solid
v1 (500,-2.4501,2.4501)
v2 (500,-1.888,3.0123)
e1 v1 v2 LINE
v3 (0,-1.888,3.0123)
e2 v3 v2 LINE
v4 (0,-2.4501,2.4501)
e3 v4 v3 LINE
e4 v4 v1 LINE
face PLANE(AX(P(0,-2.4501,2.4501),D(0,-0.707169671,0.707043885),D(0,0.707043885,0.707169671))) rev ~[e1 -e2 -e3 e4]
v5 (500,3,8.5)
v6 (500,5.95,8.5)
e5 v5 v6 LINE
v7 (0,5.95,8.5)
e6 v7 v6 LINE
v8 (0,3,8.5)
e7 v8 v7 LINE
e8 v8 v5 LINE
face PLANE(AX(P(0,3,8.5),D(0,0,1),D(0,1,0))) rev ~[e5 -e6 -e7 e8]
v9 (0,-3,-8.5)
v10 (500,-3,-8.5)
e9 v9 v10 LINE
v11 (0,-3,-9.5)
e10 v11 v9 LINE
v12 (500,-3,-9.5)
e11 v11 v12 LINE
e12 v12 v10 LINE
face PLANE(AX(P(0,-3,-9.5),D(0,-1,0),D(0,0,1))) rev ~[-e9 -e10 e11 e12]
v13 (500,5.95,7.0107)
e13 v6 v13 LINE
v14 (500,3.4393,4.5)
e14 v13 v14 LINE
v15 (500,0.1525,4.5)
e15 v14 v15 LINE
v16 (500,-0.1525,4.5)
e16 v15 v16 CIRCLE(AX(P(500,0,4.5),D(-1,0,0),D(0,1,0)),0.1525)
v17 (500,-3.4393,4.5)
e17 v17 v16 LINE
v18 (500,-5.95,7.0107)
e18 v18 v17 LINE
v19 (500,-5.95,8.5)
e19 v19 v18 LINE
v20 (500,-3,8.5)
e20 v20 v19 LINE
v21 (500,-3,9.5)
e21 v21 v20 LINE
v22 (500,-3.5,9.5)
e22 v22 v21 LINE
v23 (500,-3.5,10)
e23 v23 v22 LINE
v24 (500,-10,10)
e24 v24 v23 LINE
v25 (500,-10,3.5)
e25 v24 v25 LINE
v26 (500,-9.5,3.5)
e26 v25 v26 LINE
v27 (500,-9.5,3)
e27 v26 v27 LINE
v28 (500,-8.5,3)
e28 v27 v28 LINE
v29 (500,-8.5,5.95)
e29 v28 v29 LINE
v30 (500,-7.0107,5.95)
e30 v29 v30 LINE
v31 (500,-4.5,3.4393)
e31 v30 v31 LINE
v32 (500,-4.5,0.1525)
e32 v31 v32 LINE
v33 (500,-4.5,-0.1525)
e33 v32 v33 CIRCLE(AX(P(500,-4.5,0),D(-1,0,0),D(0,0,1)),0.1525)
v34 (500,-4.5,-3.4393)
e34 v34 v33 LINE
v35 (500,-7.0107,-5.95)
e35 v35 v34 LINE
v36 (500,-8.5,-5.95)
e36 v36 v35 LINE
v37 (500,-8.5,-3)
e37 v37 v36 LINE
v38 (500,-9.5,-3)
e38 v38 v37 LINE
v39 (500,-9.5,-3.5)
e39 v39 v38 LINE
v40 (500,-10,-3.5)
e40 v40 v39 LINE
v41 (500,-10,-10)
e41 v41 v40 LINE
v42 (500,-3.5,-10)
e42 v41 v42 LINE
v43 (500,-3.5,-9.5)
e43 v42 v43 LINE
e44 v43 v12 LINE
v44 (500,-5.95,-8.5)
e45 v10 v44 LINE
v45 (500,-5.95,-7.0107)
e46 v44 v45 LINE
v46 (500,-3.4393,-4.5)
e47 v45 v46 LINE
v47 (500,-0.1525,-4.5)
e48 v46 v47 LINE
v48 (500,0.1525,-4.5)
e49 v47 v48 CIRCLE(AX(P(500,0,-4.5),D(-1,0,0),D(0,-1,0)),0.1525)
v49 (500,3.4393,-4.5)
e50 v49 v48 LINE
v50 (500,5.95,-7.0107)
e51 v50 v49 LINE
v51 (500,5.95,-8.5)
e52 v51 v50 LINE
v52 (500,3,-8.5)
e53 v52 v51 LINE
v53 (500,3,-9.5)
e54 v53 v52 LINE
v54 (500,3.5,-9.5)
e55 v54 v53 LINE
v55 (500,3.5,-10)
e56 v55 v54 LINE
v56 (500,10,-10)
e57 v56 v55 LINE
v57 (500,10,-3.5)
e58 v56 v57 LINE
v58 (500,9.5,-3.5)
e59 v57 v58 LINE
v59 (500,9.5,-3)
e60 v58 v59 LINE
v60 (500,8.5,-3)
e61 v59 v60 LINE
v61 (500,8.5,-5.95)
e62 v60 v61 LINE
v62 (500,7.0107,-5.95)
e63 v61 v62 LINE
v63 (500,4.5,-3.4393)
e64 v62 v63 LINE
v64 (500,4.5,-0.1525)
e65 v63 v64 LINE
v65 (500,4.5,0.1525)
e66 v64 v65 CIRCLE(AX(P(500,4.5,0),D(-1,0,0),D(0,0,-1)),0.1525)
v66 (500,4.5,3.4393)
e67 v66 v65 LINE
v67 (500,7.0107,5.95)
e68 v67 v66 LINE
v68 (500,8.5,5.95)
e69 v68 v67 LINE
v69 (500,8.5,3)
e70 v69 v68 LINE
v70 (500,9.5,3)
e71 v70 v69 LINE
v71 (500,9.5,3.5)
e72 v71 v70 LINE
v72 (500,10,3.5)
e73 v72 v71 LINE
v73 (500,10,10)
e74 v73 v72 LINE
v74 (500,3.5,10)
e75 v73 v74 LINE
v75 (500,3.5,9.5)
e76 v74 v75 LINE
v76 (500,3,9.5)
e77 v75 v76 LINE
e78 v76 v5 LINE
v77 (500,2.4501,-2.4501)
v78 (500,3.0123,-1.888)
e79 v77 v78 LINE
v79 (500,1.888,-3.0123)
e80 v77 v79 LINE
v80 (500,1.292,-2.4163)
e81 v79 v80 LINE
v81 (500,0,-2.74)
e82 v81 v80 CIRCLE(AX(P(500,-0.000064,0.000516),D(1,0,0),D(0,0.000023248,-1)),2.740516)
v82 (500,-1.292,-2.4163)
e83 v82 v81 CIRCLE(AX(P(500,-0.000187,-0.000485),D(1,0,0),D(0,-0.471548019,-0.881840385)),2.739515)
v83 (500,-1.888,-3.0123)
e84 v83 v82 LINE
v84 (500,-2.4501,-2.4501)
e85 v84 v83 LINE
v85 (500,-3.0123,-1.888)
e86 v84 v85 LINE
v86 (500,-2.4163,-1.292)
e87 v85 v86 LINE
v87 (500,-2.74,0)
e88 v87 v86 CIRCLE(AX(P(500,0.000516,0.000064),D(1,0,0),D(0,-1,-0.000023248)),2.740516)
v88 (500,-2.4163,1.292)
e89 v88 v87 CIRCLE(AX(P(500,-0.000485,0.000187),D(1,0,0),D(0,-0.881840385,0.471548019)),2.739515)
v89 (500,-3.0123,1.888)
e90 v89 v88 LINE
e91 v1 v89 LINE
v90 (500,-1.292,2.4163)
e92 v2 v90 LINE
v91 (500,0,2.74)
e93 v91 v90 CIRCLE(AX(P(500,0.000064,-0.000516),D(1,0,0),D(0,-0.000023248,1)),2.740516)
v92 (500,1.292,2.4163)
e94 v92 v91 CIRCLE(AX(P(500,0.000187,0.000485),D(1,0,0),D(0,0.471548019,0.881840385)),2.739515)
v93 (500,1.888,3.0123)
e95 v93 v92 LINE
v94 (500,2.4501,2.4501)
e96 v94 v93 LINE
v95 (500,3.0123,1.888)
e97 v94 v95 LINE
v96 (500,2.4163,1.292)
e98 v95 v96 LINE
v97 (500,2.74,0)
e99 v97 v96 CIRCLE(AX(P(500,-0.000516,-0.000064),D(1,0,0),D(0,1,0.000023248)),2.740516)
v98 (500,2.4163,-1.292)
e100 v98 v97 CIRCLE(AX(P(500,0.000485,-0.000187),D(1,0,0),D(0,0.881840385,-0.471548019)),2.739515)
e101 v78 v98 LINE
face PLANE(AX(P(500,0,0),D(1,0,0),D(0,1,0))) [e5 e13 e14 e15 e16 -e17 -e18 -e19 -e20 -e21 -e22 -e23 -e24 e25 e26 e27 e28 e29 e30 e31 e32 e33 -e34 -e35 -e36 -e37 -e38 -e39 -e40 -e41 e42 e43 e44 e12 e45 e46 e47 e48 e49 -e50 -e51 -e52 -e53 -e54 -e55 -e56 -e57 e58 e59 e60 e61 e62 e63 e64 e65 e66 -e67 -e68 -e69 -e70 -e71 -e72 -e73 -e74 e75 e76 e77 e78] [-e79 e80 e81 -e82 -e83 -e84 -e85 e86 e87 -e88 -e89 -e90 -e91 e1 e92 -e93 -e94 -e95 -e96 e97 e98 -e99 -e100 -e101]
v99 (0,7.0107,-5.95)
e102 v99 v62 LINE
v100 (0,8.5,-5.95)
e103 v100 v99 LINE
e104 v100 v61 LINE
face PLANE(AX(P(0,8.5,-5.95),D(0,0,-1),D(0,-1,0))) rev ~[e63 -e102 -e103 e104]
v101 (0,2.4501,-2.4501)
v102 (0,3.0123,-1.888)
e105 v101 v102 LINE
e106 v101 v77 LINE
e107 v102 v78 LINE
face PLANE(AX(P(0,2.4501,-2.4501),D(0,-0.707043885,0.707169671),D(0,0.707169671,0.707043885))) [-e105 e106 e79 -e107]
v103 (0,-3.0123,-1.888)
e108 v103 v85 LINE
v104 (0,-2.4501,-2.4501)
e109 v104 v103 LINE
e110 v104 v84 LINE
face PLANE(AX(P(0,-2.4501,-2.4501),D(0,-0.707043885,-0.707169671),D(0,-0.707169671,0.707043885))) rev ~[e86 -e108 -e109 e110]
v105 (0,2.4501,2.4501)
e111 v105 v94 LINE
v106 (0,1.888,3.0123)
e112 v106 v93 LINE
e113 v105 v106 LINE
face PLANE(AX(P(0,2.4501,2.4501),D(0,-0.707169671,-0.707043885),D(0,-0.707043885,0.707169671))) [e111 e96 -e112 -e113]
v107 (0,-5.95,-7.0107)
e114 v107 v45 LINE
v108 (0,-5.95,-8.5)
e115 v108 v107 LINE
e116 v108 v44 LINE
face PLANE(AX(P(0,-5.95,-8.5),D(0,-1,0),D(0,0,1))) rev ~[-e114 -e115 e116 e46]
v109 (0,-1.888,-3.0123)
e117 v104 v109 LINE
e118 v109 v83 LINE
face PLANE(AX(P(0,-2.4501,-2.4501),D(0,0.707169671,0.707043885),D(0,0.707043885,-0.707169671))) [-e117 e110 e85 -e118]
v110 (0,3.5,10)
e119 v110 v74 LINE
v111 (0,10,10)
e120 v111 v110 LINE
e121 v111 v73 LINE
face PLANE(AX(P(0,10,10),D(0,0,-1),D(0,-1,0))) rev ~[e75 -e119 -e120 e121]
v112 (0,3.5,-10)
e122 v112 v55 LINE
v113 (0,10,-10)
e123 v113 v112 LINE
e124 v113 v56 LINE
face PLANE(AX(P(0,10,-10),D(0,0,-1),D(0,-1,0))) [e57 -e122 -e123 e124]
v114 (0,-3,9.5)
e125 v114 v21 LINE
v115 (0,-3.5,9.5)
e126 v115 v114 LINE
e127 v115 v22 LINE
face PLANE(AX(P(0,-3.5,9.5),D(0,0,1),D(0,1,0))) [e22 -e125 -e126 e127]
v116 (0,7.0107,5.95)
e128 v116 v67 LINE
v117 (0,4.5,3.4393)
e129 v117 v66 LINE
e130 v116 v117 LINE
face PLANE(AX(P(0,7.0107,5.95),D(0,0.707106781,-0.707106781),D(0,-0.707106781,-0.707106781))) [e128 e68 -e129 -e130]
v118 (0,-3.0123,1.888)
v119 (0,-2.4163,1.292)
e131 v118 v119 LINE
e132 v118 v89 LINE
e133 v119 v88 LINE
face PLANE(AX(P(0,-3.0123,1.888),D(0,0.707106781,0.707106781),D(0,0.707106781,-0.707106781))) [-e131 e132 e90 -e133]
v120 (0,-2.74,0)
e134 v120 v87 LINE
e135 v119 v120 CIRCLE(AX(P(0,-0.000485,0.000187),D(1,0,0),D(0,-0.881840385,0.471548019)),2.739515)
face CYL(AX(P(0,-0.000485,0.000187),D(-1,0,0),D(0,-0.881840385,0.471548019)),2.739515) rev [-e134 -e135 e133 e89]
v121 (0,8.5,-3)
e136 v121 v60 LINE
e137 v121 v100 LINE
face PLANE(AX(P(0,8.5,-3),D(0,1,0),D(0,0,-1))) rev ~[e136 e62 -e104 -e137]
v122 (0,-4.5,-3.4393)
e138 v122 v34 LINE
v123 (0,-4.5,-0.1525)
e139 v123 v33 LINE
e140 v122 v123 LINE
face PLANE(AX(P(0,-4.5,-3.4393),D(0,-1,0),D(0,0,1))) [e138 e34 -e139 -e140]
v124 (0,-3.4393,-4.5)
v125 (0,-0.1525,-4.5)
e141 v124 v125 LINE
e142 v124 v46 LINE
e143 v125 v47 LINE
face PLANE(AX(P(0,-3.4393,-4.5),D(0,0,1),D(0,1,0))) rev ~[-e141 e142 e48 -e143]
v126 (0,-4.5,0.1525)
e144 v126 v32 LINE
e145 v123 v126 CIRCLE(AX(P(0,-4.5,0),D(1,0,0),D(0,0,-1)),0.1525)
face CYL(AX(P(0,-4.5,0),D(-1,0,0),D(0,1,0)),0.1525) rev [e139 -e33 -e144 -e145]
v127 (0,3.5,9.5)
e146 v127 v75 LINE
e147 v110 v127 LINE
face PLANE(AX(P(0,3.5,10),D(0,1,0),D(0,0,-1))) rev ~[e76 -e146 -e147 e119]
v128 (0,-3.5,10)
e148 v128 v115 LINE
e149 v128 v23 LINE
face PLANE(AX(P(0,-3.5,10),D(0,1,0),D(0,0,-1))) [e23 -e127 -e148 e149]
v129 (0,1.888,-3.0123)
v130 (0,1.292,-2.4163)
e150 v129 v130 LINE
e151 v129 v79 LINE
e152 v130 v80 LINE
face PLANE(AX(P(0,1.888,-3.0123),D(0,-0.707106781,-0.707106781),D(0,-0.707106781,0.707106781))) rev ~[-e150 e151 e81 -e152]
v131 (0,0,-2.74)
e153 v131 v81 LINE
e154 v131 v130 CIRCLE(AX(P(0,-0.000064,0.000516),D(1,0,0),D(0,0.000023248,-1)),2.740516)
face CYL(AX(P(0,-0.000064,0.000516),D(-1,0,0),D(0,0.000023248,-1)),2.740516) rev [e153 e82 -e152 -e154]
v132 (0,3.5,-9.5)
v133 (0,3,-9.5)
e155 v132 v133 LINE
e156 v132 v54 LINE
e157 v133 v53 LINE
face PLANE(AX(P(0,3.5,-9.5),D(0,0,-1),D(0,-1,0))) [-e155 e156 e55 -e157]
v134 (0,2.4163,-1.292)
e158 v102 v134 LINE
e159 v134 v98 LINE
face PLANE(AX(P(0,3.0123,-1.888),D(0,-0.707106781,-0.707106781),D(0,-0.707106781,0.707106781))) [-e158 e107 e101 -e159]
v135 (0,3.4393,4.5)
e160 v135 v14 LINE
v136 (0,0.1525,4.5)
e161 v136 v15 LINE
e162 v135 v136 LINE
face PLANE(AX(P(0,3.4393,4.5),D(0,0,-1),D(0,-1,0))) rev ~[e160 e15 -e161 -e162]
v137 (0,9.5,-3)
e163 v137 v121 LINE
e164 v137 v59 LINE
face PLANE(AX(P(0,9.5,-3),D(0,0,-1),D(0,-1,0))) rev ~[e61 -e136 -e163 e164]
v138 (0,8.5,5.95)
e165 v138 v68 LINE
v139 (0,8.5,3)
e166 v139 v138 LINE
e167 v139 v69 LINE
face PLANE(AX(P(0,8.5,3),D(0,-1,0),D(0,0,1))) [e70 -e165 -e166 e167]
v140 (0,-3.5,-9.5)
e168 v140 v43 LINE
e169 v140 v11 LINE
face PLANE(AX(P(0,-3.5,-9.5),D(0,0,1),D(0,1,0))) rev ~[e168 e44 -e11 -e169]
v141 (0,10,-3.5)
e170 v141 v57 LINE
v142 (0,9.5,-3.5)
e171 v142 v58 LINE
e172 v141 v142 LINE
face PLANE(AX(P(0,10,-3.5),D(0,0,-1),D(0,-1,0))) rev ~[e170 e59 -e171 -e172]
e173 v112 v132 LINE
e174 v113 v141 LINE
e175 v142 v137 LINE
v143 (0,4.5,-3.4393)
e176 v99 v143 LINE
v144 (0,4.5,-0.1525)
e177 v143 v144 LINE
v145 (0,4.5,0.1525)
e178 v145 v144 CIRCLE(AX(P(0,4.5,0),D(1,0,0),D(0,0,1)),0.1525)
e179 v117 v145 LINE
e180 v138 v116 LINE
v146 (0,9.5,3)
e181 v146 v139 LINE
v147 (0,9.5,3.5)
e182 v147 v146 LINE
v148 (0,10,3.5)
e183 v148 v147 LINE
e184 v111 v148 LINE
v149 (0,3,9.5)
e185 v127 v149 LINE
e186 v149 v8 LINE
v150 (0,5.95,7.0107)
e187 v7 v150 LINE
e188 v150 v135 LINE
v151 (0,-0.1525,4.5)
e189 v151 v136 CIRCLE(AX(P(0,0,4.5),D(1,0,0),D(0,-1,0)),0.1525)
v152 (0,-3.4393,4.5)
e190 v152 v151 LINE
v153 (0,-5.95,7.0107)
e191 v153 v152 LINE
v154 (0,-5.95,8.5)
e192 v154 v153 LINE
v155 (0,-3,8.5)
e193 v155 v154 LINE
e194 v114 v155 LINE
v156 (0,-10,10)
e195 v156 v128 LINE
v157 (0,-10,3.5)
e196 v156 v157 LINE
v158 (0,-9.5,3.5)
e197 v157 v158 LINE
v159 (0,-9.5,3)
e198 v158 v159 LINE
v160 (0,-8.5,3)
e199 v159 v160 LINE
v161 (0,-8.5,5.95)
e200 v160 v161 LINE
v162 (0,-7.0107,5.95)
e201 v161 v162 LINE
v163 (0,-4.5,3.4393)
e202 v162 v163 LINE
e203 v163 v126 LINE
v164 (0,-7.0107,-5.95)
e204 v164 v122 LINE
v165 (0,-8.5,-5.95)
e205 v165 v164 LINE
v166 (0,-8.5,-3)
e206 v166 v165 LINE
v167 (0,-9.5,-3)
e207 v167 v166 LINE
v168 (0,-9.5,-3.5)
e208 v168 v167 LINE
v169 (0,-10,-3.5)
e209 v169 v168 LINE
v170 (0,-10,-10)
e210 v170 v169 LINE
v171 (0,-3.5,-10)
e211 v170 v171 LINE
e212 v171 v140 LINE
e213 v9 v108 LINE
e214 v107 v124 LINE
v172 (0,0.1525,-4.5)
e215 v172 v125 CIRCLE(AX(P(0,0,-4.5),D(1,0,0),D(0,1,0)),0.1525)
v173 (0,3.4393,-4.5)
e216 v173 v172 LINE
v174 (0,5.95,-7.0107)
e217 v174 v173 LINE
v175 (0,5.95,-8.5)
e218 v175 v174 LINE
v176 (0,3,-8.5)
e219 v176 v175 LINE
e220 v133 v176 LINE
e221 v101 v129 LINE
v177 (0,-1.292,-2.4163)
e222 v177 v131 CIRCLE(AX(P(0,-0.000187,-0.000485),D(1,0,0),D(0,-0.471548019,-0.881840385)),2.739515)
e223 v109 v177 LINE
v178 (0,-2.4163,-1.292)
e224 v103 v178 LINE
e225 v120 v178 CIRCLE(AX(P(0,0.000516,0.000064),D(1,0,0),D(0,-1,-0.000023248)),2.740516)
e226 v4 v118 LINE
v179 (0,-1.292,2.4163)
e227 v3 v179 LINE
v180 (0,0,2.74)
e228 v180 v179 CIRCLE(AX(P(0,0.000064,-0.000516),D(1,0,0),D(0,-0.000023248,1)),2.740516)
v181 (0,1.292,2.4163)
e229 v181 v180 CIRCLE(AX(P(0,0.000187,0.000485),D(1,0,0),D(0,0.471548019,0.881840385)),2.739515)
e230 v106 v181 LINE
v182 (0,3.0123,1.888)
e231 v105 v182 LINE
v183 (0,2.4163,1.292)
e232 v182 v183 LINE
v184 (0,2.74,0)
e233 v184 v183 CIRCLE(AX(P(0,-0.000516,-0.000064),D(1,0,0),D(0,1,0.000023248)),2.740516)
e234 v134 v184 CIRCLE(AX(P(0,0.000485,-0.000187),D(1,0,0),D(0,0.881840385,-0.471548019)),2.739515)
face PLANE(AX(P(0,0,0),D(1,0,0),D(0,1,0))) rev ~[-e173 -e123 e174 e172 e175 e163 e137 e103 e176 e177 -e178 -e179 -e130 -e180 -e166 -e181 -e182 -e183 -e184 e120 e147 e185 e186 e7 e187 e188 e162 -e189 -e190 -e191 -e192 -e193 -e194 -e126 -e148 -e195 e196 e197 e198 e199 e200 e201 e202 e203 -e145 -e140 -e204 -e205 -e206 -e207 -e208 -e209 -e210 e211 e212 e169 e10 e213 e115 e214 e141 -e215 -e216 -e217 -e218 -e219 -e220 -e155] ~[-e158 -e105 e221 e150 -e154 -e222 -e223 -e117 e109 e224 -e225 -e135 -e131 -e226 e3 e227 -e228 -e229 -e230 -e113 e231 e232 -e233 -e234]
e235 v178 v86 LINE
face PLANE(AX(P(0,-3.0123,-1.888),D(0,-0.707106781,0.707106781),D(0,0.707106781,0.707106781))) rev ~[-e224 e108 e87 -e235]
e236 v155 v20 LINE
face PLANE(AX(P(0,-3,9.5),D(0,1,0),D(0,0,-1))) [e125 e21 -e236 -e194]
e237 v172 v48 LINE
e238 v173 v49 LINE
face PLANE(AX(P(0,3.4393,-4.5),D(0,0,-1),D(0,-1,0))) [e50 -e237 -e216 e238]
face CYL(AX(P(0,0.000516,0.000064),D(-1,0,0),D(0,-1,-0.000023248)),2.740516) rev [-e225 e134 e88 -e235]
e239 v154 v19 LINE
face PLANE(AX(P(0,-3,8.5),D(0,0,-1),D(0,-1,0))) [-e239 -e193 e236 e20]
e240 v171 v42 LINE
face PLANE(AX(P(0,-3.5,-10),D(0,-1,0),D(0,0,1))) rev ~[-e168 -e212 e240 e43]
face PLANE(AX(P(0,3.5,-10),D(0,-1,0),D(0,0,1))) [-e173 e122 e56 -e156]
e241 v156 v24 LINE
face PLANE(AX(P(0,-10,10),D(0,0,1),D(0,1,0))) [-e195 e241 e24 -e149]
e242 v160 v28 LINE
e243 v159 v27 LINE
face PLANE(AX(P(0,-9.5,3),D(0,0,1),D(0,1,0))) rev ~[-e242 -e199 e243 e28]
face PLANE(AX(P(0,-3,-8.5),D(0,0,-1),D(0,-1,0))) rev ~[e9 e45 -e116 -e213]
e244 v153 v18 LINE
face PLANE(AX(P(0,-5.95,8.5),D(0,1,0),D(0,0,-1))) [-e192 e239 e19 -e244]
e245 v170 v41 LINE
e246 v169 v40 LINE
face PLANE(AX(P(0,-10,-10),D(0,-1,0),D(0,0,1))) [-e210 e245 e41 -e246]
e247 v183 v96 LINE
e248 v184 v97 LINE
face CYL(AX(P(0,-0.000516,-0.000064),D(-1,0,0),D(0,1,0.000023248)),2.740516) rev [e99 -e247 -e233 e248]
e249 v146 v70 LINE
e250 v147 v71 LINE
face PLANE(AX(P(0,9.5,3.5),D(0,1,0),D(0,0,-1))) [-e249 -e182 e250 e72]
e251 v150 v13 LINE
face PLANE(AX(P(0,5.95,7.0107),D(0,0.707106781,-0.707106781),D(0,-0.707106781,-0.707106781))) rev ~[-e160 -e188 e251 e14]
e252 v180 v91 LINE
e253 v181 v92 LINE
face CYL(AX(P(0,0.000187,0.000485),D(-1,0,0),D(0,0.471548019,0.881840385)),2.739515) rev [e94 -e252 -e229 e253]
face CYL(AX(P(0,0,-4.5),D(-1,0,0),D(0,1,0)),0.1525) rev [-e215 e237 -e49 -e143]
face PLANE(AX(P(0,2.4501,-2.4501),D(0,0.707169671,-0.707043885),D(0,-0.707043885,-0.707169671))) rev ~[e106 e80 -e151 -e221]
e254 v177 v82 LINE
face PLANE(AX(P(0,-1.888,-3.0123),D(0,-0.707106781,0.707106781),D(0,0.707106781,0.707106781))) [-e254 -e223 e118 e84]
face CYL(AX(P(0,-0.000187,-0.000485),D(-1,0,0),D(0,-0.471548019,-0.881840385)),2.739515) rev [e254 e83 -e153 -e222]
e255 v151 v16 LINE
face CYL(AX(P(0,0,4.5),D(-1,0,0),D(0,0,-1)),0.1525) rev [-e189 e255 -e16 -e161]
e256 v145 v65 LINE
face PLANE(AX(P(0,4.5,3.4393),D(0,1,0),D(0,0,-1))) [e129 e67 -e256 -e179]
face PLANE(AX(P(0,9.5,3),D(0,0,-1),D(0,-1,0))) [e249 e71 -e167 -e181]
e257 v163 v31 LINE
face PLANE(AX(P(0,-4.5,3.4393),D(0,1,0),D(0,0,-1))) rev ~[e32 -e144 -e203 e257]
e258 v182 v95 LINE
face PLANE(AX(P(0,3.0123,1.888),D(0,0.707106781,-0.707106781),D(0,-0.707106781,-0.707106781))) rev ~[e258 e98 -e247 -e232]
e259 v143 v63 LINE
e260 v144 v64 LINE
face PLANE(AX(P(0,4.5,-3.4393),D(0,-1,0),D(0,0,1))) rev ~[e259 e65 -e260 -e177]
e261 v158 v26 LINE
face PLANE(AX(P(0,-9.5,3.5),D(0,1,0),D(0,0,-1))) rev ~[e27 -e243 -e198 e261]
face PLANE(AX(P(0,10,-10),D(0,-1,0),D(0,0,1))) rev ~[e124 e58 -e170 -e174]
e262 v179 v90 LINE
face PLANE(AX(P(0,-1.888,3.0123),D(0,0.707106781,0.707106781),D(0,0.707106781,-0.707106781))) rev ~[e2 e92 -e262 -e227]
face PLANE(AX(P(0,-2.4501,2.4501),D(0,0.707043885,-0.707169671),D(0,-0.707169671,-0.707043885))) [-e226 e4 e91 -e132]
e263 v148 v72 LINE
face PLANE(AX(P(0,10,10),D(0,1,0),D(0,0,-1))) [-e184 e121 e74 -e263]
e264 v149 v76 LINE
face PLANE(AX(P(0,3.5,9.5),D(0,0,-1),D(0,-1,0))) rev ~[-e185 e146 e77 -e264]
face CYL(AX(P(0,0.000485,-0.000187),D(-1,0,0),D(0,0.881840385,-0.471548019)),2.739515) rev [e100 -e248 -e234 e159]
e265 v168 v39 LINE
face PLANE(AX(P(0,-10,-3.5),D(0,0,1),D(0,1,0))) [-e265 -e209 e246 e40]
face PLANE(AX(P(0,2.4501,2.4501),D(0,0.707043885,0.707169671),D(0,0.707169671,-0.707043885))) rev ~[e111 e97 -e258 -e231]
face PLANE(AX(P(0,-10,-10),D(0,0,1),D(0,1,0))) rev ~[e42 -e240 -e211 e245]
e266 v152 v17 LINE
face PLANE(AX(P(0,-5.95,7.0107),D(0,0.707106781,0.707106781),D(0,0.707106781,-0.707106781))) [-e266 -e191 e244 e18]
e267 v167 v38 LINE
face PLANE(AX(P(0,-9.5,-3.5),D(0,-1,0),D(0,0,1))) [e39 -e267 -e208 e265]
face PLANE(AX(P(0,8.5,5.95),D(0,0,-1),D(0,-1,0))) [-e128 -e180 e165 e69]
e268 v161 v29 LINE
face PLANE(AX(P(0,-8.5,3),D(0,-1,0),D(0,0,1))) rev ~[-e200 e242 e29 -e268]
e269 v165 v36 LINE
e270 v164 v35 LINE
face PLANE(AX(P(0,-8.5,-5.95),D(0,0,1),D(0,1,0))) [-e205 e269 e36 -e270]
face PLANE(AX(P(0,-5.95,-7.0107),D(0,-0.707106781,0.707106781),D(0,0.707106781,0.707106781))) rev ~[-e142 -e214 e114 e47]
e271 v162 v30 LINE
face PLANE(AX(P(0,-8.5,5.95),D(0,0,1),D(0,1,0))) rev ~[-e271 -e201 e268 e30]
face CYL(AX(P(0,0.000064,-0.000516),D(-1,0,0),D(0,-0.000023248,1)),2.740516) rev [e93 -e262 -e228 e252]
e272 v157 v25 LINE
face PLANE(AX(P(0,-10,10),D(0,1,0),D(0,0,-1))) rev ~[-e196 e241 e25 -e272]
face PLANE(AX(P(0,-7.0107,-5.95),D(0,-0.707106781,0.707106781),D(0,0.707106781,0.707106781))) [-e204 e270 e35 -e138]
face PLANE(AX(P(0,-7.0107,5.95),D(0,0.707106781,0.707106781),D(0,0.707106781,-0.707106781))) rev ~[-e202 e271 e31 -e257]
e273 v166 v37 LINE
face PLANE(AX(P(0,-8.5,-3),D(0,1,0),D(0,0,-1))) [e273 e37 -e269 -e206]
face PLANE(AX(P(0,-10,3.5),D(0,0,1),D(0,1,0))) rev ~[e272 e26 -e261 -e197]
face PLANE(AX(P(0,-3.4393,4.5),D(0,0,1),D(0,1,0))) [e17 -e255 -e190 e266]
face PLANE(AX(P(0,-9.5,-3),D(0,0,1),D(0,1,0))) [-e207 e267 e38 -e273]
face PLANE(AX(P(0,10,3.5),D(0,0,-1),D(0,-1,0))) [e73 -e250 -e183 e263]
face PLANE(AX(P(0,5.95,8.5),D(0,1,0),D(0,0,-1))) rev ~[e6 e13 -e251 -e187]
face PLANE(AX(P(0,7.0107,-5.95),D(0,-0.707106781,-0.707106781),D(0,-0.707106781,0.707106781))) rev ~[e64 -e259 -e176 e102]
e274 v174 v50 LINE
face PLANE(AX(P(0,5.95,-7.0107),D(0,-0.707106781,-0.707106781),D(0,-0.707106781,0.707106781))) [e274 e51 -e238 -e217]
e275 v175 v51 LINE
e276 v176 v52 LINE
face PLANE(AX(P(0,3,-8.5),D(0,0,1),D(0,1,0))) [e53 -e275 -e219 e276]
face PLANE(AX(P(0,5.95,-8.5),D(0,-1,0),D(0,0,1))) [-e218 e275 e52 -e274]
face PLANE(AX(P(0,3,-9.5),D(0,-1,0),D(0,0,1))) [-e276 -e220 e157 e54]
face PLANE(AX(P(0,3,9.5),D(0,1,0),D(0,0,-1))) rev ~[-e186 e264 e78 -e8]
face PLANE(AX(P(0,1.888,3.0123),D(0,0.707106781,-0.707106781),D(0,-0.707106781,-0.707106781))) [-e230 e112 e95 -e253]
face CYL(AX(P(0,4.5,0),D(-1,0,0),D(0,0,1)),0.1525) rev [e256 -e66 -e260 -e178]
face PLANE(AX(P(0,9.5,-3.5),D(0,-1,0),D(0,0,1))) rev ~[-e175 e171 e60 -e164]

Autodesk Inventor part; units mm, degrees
ref_plane "YZ Plane" through (0, 0, 0) normal (1, 0, 0) x (0, 1, 0)
ref_plane "XZ Plane" through (0, 0, 0) normal (0, 1, 0) x (-1, 0, 0)
ref_plane "XY Plane" through (0, 0, 0) normal (0, 0, 1) x (1, 0, 0)
sketch "Sketch1" plane through (0, 0, 0) normal (1, 0, 0) x (0, 1, 0)
  line L0 (-10, -10) -> (10, 10) construction
  line L1 (10, 10) -> (10, 3.5)
  line L2 (10, 3.5) -> (9.5, 3.5)
  line L3 (9.5, 3.5) -> (9.5, 3)
  line L4 (9.5, 3) -> (8.5, 3)
  line L5 (8.5, 3) -> (8.5, 5.95)
  line L6 (8.5, 5.95) -> (7.0107, 5.95)
  line L7 (7.0107, 5.95) -> (4.5, 3.4393)
  line L8 (4.5, 3.4393) -> (4.5, 0.1525)
  line L9 (2.4501, 2.4501) -> (3.0123, 1.888)
  line L10 (3.0123, 1.888) -> (2.4163, 1.292)
  arc A0 (2.74, 0) -> (2.4163, 1.292) centre (0, 0) ccw
  arc A1 (4.5, 0.1525) -> (4.3475, 0) centre (4.5, 0) ccw
  line L11 (10, 10) -> (2.4501, 2.4501)
  line L12 (4.3475, 0) -> (2.74, 0)
  line L13 (0, 0) -> (2.74, 0) construction
  line L14 (10, 10) -> (3.5, 10)
  line L15 (3.5, 10) -> (3.5, 9.5)
  line L16 (3.5, 9.5) -> (3, 9.5)
  line L17 (3, 9.5) -> (3, 8.5)
  line L18 (3, 8.5) -> (5.95, 8.5)
  line L19 (5.95, 8.5) -> (5.95, 7.0107)
  line L20 (5.95, 7.0107) -> (3.4393, 4.5)
  line L21 (3.4393, 4.5) -> (0.1525, 4.5)
  line L22 (2.4501, 2.4501) -> (1.888, 3.0123)
  line L23 (1.888, 3.0123) -> (1.292, 2.4163)
  arc A2 (1.292, 2.4163) -> (0, 2.74) centre (0, 0) ccw
  arc A3 (0, 4.3475) -> (0.1525, 4.5) centre (0, 4.5) ccw
  line L24 (0, 4.3475) -> (0, 2.74)
  line L25 (0, 0) -> (0, 2.74) construction
  line L26 (-8.5, 5.95) -> (-7.0107, 5.95)
  line L27 (-10, 3.5) -> (-9.5, 3.5)
  line L28 (-8.5, 3) -> (-8.5, 5.95)
  line L29 (-9.5, 3.5) -> (-9.5, 3)
  line L30 (-9.5, 3) -> (-8.5, 3)
  line L31 (-5.95, 8.5) -> (-5.95, 7.0107)
  line L32 (-7.0107, 5.95) -> (-4.5, 3.4393)
  line L33 (-5.95, 7.0107) -> (-3.4393, 4.5)
  line L34 (-10, 10) -> (-10, 3.5)
  line L35 (-10, 10) -> (-3.5, 10)
  line L36 (-10, 10) -> (-2.4501, 2.4501)
  line L37 (-3, 8.5) -> (-5.95, 8.5)
  line L38 (-3, 9.5) -> (-3, 8.5)
  line L39 (-3.5, 10) -> (-3.5, 9.5)
  line L40 (-3.5, 9.5) -> (-3, 9.5)
  line L41 (-3.4393, 4.5) -> (-0.1525, 4.5)
  line L42 (-2.4501, 2.4501) -> (-1.888, 3.0123)
  line L43 (-1.888, 3.0123) -> (-1.292, 2.4163)
  arc A4 (0, 2.74) -> (-1.292, 2.4163) centre (0, 0) ccw
  arc A5 (-0.1525, 4.5) -> (0, 4.3475) centre (0, 4.5) ccw
  line L44 (-2.4501, 2.4501) -> (-3.0123, 1.888)
  line L45 (-4.5, 3.4393) -> (-4.5, 0.1525)
  arc A6 (-4.3475, 0) -> (-4.5, 0.1525) centre (-4.5, 0) ccw
  line L46 (0, 4.3475) -> (0, 2.74)
  line L47 (-4.3475, 0) -> (-2.74, 0)
  arc A7 (-2.4163, 1.292) -> (-2.74, 0) centre (0, 0) ccw
  line L48 (0, 0) -> (0, 2.74) construction
  line L49 (-3.0123, 1.888) -> (-2.4163, 1.292)
  line L50 (-5.95, -8.5) -> (-5.95, -7.0107)
  line L51 (-3.5, -10) -> (-3.5, -9.5)
  line L52 (-3, -8.5) -> (-5.95, -8.5)
  line L53 (-3.5, -9.5) -> (-3, -9.5)
  line L54 (-3, -9.5) -> (-3, -8.5)
  line L55 (-8.5, -5.95) -> (-7.0107, -5.95)
  line L56 (-5.95, -7.0107) -> (-3.4393, -4.5)
  line L57 (-7.0107, -5.95) -> (-4.5, -3.4393)
  line L58 (-10, -10) -> (-3.5, -10)
  line L59 (-10, -10) -> (-10, -3.5)
  line L60 (-10, -10) -> (-2.4501, -2.4501)
  line L61 (-8.5, -3) -> (-8.5, -5.95)
  line L62 (-9.5, -3) -> (-8.5, -3)
  line L63 (-10, -3.5) -> (-9.5, -3.5)
  line L64 (-9.5, -3.5) -> (-9.5, -3)
  line L65 (-4.5, -3.4393) -> (-4.5, -0.1525)
  line L66 (-2.4501, -2.4501) -> (-3.0123, -1.888)
  line L67 (-3.0123, -1.888) -> (-2.4163, -1.292)
  arc A8 (-2.74, 0) -> (-2.4163, -1.292) centre (0, 0) ccw
  arc A9 (-4.5, -0.1525) -> (-4.3475, 0) centre (-4.5, 0) ccw
  line L68 (-2.4501, -2.4501) -> (-1.888, -3.0123)
  line L69 (-3.4393, -4.5) -> (-0.1525, -4.5)
  arc A10 (0, -4.3475) -> (-0.1525, -4.5) centre (0, -4.5) ccw
  line L70 (-4.3475, 0) -> (-2.74, 0)
  line L71 (0, -4.3475) -> (0, -2.74)
  arc A11 (-1.292, -2.4163) -> (0, -2.74) centre (0, 0) ccw
  line L72 (0, 0) -> (-2.74, 0) construction
  line L73 (-1.888, -3.0123) -> (-1.292, -2.4163)
  line L74 (8.5, -5.95) -> (7.0107, -5.95)
  line L75 (10, -3.5) -> (9.5, -3.5)
  line L76 (8.5, -3) -> (8.5, -5.95)
  line L77 (9.5, -3.5) -> (9.5, -3)
  line L78 (9.5, -3) -> (8.5, -3)
  line L79 (5.95, -8.5) -> (5.95, -7.0107)
  line L80 (7.0107, -5.95) -> (4.5, -3.4393)
  line L81 (5.95, -7.0107) -> (3.4393, -4.5)
  line L82 (10, -10) -> (10, -3.5)
  line L83 (10, -10) -> (3.5, -10)
  line L84 (10, -10) -> (2.4501, -2.4501)
  line L85 (3, -8.5) -> (5.95, -8.5)
  line L86 (3, -9.5) -> (3, -8.5)
  line L87 (3.5, -10) -> (3.5, -9.5)
  line L88 (3.5, -9.5) -> (3, -9.5)
  line L89 (3.4393, -4.5) -> (0.1525, -4.5)
  line L90 (2.4501, -2.4501) -> (1.888, -3.0123)
  line L91 (1.888, -3.0123) -> (1.292, -2.4163)
  arc A12 (0, -2.74) -> (1.292, -2.4163) centre (0, 0) ccw
  arc A13 (0.1525, -4.5) -> (0, -4.3475) centre (0, -4.5) ccw
  line L92 (2.4501, -2.4501) -> (3.0123, -1.888)
  line L93 (4.5, -3.4393) -> (4.5, -0.1525)
  arc A14 (4.3475, 0) -> (4.5, -0.1525) centre (4.5, 0) ccw
  line L94 (0, -4.3475) -> (0, -2.74)
  line L95 (4.3475, 0) -> (2.74, 0)
  arc A15 (2.4163, -1.292) -> (2.74, 0) centre (0, 0) ccw
  line L96 (0, 0) -> (0, -2.74) construction
  line L97 (3.0123, -1.888) -> (2.4163, -1.292)
  point P0 (9, 3)
  point P1 (3, 9)
  point P2 (-9, 3)
  point P3 (-3, 9)
  point P4 (-3, -9)
  point P5 (-9, -3)
  point P6 (9, -3)
  point P7 (3, -9)
  dimension "d2" = 6.5
  dimension "d3" = 0.5
  dimension "d4" = 4
  dimension "d5" = 3.465
  dimension "d6" = 5.48
  dimension "d7" = 0.795
  dimension "d8" = 0.305
  dimension "d9" = 2.95
  dimension "d11" = 0.75
  dimension "d14" = 45
  dimension "d15" = 10
  dimension "d16" = 1
  dimension "d17" = 3
  dimension "d18" = 45
  dimension "d21" = 360
extrude "Extrusion1" add sketch "Sketch1" along normal blind 500 contours L1 L2 L3 L4 L5 L6 L7 L8 A1 L12 A0 L10 L9 L11 | L11 L22 L23 A2 L24 A3 L21 L20 L19 L18 L17 L16 L15 L14 | L12 A14 L93 L80 L74 L76 L78 L77 L75 L82 L84 L92 L97 A15 | A4 L43 L42 L36 L35 L39 L40 L38 L37 L31 L33 L41 A5 L24 | L84 L83 L87 L88 L86 L85 L79 L81 L89 A13 L71 A12 L91 L90 | L44 L49 A7 L47 A6 L45 L32 L26 L28 L30 L29 L27 L34 L36 | L71 A10 L69 L56 L50 L52 L54 L53 L51 L58 L60 L68 L73 A11 | A8 L67 L66 L60 L59 L63 L64 L62 L61 L55 L57 L65 A9 L47
properties part number "20mm Extrusion 500mm" material "Aluminum 6061"
